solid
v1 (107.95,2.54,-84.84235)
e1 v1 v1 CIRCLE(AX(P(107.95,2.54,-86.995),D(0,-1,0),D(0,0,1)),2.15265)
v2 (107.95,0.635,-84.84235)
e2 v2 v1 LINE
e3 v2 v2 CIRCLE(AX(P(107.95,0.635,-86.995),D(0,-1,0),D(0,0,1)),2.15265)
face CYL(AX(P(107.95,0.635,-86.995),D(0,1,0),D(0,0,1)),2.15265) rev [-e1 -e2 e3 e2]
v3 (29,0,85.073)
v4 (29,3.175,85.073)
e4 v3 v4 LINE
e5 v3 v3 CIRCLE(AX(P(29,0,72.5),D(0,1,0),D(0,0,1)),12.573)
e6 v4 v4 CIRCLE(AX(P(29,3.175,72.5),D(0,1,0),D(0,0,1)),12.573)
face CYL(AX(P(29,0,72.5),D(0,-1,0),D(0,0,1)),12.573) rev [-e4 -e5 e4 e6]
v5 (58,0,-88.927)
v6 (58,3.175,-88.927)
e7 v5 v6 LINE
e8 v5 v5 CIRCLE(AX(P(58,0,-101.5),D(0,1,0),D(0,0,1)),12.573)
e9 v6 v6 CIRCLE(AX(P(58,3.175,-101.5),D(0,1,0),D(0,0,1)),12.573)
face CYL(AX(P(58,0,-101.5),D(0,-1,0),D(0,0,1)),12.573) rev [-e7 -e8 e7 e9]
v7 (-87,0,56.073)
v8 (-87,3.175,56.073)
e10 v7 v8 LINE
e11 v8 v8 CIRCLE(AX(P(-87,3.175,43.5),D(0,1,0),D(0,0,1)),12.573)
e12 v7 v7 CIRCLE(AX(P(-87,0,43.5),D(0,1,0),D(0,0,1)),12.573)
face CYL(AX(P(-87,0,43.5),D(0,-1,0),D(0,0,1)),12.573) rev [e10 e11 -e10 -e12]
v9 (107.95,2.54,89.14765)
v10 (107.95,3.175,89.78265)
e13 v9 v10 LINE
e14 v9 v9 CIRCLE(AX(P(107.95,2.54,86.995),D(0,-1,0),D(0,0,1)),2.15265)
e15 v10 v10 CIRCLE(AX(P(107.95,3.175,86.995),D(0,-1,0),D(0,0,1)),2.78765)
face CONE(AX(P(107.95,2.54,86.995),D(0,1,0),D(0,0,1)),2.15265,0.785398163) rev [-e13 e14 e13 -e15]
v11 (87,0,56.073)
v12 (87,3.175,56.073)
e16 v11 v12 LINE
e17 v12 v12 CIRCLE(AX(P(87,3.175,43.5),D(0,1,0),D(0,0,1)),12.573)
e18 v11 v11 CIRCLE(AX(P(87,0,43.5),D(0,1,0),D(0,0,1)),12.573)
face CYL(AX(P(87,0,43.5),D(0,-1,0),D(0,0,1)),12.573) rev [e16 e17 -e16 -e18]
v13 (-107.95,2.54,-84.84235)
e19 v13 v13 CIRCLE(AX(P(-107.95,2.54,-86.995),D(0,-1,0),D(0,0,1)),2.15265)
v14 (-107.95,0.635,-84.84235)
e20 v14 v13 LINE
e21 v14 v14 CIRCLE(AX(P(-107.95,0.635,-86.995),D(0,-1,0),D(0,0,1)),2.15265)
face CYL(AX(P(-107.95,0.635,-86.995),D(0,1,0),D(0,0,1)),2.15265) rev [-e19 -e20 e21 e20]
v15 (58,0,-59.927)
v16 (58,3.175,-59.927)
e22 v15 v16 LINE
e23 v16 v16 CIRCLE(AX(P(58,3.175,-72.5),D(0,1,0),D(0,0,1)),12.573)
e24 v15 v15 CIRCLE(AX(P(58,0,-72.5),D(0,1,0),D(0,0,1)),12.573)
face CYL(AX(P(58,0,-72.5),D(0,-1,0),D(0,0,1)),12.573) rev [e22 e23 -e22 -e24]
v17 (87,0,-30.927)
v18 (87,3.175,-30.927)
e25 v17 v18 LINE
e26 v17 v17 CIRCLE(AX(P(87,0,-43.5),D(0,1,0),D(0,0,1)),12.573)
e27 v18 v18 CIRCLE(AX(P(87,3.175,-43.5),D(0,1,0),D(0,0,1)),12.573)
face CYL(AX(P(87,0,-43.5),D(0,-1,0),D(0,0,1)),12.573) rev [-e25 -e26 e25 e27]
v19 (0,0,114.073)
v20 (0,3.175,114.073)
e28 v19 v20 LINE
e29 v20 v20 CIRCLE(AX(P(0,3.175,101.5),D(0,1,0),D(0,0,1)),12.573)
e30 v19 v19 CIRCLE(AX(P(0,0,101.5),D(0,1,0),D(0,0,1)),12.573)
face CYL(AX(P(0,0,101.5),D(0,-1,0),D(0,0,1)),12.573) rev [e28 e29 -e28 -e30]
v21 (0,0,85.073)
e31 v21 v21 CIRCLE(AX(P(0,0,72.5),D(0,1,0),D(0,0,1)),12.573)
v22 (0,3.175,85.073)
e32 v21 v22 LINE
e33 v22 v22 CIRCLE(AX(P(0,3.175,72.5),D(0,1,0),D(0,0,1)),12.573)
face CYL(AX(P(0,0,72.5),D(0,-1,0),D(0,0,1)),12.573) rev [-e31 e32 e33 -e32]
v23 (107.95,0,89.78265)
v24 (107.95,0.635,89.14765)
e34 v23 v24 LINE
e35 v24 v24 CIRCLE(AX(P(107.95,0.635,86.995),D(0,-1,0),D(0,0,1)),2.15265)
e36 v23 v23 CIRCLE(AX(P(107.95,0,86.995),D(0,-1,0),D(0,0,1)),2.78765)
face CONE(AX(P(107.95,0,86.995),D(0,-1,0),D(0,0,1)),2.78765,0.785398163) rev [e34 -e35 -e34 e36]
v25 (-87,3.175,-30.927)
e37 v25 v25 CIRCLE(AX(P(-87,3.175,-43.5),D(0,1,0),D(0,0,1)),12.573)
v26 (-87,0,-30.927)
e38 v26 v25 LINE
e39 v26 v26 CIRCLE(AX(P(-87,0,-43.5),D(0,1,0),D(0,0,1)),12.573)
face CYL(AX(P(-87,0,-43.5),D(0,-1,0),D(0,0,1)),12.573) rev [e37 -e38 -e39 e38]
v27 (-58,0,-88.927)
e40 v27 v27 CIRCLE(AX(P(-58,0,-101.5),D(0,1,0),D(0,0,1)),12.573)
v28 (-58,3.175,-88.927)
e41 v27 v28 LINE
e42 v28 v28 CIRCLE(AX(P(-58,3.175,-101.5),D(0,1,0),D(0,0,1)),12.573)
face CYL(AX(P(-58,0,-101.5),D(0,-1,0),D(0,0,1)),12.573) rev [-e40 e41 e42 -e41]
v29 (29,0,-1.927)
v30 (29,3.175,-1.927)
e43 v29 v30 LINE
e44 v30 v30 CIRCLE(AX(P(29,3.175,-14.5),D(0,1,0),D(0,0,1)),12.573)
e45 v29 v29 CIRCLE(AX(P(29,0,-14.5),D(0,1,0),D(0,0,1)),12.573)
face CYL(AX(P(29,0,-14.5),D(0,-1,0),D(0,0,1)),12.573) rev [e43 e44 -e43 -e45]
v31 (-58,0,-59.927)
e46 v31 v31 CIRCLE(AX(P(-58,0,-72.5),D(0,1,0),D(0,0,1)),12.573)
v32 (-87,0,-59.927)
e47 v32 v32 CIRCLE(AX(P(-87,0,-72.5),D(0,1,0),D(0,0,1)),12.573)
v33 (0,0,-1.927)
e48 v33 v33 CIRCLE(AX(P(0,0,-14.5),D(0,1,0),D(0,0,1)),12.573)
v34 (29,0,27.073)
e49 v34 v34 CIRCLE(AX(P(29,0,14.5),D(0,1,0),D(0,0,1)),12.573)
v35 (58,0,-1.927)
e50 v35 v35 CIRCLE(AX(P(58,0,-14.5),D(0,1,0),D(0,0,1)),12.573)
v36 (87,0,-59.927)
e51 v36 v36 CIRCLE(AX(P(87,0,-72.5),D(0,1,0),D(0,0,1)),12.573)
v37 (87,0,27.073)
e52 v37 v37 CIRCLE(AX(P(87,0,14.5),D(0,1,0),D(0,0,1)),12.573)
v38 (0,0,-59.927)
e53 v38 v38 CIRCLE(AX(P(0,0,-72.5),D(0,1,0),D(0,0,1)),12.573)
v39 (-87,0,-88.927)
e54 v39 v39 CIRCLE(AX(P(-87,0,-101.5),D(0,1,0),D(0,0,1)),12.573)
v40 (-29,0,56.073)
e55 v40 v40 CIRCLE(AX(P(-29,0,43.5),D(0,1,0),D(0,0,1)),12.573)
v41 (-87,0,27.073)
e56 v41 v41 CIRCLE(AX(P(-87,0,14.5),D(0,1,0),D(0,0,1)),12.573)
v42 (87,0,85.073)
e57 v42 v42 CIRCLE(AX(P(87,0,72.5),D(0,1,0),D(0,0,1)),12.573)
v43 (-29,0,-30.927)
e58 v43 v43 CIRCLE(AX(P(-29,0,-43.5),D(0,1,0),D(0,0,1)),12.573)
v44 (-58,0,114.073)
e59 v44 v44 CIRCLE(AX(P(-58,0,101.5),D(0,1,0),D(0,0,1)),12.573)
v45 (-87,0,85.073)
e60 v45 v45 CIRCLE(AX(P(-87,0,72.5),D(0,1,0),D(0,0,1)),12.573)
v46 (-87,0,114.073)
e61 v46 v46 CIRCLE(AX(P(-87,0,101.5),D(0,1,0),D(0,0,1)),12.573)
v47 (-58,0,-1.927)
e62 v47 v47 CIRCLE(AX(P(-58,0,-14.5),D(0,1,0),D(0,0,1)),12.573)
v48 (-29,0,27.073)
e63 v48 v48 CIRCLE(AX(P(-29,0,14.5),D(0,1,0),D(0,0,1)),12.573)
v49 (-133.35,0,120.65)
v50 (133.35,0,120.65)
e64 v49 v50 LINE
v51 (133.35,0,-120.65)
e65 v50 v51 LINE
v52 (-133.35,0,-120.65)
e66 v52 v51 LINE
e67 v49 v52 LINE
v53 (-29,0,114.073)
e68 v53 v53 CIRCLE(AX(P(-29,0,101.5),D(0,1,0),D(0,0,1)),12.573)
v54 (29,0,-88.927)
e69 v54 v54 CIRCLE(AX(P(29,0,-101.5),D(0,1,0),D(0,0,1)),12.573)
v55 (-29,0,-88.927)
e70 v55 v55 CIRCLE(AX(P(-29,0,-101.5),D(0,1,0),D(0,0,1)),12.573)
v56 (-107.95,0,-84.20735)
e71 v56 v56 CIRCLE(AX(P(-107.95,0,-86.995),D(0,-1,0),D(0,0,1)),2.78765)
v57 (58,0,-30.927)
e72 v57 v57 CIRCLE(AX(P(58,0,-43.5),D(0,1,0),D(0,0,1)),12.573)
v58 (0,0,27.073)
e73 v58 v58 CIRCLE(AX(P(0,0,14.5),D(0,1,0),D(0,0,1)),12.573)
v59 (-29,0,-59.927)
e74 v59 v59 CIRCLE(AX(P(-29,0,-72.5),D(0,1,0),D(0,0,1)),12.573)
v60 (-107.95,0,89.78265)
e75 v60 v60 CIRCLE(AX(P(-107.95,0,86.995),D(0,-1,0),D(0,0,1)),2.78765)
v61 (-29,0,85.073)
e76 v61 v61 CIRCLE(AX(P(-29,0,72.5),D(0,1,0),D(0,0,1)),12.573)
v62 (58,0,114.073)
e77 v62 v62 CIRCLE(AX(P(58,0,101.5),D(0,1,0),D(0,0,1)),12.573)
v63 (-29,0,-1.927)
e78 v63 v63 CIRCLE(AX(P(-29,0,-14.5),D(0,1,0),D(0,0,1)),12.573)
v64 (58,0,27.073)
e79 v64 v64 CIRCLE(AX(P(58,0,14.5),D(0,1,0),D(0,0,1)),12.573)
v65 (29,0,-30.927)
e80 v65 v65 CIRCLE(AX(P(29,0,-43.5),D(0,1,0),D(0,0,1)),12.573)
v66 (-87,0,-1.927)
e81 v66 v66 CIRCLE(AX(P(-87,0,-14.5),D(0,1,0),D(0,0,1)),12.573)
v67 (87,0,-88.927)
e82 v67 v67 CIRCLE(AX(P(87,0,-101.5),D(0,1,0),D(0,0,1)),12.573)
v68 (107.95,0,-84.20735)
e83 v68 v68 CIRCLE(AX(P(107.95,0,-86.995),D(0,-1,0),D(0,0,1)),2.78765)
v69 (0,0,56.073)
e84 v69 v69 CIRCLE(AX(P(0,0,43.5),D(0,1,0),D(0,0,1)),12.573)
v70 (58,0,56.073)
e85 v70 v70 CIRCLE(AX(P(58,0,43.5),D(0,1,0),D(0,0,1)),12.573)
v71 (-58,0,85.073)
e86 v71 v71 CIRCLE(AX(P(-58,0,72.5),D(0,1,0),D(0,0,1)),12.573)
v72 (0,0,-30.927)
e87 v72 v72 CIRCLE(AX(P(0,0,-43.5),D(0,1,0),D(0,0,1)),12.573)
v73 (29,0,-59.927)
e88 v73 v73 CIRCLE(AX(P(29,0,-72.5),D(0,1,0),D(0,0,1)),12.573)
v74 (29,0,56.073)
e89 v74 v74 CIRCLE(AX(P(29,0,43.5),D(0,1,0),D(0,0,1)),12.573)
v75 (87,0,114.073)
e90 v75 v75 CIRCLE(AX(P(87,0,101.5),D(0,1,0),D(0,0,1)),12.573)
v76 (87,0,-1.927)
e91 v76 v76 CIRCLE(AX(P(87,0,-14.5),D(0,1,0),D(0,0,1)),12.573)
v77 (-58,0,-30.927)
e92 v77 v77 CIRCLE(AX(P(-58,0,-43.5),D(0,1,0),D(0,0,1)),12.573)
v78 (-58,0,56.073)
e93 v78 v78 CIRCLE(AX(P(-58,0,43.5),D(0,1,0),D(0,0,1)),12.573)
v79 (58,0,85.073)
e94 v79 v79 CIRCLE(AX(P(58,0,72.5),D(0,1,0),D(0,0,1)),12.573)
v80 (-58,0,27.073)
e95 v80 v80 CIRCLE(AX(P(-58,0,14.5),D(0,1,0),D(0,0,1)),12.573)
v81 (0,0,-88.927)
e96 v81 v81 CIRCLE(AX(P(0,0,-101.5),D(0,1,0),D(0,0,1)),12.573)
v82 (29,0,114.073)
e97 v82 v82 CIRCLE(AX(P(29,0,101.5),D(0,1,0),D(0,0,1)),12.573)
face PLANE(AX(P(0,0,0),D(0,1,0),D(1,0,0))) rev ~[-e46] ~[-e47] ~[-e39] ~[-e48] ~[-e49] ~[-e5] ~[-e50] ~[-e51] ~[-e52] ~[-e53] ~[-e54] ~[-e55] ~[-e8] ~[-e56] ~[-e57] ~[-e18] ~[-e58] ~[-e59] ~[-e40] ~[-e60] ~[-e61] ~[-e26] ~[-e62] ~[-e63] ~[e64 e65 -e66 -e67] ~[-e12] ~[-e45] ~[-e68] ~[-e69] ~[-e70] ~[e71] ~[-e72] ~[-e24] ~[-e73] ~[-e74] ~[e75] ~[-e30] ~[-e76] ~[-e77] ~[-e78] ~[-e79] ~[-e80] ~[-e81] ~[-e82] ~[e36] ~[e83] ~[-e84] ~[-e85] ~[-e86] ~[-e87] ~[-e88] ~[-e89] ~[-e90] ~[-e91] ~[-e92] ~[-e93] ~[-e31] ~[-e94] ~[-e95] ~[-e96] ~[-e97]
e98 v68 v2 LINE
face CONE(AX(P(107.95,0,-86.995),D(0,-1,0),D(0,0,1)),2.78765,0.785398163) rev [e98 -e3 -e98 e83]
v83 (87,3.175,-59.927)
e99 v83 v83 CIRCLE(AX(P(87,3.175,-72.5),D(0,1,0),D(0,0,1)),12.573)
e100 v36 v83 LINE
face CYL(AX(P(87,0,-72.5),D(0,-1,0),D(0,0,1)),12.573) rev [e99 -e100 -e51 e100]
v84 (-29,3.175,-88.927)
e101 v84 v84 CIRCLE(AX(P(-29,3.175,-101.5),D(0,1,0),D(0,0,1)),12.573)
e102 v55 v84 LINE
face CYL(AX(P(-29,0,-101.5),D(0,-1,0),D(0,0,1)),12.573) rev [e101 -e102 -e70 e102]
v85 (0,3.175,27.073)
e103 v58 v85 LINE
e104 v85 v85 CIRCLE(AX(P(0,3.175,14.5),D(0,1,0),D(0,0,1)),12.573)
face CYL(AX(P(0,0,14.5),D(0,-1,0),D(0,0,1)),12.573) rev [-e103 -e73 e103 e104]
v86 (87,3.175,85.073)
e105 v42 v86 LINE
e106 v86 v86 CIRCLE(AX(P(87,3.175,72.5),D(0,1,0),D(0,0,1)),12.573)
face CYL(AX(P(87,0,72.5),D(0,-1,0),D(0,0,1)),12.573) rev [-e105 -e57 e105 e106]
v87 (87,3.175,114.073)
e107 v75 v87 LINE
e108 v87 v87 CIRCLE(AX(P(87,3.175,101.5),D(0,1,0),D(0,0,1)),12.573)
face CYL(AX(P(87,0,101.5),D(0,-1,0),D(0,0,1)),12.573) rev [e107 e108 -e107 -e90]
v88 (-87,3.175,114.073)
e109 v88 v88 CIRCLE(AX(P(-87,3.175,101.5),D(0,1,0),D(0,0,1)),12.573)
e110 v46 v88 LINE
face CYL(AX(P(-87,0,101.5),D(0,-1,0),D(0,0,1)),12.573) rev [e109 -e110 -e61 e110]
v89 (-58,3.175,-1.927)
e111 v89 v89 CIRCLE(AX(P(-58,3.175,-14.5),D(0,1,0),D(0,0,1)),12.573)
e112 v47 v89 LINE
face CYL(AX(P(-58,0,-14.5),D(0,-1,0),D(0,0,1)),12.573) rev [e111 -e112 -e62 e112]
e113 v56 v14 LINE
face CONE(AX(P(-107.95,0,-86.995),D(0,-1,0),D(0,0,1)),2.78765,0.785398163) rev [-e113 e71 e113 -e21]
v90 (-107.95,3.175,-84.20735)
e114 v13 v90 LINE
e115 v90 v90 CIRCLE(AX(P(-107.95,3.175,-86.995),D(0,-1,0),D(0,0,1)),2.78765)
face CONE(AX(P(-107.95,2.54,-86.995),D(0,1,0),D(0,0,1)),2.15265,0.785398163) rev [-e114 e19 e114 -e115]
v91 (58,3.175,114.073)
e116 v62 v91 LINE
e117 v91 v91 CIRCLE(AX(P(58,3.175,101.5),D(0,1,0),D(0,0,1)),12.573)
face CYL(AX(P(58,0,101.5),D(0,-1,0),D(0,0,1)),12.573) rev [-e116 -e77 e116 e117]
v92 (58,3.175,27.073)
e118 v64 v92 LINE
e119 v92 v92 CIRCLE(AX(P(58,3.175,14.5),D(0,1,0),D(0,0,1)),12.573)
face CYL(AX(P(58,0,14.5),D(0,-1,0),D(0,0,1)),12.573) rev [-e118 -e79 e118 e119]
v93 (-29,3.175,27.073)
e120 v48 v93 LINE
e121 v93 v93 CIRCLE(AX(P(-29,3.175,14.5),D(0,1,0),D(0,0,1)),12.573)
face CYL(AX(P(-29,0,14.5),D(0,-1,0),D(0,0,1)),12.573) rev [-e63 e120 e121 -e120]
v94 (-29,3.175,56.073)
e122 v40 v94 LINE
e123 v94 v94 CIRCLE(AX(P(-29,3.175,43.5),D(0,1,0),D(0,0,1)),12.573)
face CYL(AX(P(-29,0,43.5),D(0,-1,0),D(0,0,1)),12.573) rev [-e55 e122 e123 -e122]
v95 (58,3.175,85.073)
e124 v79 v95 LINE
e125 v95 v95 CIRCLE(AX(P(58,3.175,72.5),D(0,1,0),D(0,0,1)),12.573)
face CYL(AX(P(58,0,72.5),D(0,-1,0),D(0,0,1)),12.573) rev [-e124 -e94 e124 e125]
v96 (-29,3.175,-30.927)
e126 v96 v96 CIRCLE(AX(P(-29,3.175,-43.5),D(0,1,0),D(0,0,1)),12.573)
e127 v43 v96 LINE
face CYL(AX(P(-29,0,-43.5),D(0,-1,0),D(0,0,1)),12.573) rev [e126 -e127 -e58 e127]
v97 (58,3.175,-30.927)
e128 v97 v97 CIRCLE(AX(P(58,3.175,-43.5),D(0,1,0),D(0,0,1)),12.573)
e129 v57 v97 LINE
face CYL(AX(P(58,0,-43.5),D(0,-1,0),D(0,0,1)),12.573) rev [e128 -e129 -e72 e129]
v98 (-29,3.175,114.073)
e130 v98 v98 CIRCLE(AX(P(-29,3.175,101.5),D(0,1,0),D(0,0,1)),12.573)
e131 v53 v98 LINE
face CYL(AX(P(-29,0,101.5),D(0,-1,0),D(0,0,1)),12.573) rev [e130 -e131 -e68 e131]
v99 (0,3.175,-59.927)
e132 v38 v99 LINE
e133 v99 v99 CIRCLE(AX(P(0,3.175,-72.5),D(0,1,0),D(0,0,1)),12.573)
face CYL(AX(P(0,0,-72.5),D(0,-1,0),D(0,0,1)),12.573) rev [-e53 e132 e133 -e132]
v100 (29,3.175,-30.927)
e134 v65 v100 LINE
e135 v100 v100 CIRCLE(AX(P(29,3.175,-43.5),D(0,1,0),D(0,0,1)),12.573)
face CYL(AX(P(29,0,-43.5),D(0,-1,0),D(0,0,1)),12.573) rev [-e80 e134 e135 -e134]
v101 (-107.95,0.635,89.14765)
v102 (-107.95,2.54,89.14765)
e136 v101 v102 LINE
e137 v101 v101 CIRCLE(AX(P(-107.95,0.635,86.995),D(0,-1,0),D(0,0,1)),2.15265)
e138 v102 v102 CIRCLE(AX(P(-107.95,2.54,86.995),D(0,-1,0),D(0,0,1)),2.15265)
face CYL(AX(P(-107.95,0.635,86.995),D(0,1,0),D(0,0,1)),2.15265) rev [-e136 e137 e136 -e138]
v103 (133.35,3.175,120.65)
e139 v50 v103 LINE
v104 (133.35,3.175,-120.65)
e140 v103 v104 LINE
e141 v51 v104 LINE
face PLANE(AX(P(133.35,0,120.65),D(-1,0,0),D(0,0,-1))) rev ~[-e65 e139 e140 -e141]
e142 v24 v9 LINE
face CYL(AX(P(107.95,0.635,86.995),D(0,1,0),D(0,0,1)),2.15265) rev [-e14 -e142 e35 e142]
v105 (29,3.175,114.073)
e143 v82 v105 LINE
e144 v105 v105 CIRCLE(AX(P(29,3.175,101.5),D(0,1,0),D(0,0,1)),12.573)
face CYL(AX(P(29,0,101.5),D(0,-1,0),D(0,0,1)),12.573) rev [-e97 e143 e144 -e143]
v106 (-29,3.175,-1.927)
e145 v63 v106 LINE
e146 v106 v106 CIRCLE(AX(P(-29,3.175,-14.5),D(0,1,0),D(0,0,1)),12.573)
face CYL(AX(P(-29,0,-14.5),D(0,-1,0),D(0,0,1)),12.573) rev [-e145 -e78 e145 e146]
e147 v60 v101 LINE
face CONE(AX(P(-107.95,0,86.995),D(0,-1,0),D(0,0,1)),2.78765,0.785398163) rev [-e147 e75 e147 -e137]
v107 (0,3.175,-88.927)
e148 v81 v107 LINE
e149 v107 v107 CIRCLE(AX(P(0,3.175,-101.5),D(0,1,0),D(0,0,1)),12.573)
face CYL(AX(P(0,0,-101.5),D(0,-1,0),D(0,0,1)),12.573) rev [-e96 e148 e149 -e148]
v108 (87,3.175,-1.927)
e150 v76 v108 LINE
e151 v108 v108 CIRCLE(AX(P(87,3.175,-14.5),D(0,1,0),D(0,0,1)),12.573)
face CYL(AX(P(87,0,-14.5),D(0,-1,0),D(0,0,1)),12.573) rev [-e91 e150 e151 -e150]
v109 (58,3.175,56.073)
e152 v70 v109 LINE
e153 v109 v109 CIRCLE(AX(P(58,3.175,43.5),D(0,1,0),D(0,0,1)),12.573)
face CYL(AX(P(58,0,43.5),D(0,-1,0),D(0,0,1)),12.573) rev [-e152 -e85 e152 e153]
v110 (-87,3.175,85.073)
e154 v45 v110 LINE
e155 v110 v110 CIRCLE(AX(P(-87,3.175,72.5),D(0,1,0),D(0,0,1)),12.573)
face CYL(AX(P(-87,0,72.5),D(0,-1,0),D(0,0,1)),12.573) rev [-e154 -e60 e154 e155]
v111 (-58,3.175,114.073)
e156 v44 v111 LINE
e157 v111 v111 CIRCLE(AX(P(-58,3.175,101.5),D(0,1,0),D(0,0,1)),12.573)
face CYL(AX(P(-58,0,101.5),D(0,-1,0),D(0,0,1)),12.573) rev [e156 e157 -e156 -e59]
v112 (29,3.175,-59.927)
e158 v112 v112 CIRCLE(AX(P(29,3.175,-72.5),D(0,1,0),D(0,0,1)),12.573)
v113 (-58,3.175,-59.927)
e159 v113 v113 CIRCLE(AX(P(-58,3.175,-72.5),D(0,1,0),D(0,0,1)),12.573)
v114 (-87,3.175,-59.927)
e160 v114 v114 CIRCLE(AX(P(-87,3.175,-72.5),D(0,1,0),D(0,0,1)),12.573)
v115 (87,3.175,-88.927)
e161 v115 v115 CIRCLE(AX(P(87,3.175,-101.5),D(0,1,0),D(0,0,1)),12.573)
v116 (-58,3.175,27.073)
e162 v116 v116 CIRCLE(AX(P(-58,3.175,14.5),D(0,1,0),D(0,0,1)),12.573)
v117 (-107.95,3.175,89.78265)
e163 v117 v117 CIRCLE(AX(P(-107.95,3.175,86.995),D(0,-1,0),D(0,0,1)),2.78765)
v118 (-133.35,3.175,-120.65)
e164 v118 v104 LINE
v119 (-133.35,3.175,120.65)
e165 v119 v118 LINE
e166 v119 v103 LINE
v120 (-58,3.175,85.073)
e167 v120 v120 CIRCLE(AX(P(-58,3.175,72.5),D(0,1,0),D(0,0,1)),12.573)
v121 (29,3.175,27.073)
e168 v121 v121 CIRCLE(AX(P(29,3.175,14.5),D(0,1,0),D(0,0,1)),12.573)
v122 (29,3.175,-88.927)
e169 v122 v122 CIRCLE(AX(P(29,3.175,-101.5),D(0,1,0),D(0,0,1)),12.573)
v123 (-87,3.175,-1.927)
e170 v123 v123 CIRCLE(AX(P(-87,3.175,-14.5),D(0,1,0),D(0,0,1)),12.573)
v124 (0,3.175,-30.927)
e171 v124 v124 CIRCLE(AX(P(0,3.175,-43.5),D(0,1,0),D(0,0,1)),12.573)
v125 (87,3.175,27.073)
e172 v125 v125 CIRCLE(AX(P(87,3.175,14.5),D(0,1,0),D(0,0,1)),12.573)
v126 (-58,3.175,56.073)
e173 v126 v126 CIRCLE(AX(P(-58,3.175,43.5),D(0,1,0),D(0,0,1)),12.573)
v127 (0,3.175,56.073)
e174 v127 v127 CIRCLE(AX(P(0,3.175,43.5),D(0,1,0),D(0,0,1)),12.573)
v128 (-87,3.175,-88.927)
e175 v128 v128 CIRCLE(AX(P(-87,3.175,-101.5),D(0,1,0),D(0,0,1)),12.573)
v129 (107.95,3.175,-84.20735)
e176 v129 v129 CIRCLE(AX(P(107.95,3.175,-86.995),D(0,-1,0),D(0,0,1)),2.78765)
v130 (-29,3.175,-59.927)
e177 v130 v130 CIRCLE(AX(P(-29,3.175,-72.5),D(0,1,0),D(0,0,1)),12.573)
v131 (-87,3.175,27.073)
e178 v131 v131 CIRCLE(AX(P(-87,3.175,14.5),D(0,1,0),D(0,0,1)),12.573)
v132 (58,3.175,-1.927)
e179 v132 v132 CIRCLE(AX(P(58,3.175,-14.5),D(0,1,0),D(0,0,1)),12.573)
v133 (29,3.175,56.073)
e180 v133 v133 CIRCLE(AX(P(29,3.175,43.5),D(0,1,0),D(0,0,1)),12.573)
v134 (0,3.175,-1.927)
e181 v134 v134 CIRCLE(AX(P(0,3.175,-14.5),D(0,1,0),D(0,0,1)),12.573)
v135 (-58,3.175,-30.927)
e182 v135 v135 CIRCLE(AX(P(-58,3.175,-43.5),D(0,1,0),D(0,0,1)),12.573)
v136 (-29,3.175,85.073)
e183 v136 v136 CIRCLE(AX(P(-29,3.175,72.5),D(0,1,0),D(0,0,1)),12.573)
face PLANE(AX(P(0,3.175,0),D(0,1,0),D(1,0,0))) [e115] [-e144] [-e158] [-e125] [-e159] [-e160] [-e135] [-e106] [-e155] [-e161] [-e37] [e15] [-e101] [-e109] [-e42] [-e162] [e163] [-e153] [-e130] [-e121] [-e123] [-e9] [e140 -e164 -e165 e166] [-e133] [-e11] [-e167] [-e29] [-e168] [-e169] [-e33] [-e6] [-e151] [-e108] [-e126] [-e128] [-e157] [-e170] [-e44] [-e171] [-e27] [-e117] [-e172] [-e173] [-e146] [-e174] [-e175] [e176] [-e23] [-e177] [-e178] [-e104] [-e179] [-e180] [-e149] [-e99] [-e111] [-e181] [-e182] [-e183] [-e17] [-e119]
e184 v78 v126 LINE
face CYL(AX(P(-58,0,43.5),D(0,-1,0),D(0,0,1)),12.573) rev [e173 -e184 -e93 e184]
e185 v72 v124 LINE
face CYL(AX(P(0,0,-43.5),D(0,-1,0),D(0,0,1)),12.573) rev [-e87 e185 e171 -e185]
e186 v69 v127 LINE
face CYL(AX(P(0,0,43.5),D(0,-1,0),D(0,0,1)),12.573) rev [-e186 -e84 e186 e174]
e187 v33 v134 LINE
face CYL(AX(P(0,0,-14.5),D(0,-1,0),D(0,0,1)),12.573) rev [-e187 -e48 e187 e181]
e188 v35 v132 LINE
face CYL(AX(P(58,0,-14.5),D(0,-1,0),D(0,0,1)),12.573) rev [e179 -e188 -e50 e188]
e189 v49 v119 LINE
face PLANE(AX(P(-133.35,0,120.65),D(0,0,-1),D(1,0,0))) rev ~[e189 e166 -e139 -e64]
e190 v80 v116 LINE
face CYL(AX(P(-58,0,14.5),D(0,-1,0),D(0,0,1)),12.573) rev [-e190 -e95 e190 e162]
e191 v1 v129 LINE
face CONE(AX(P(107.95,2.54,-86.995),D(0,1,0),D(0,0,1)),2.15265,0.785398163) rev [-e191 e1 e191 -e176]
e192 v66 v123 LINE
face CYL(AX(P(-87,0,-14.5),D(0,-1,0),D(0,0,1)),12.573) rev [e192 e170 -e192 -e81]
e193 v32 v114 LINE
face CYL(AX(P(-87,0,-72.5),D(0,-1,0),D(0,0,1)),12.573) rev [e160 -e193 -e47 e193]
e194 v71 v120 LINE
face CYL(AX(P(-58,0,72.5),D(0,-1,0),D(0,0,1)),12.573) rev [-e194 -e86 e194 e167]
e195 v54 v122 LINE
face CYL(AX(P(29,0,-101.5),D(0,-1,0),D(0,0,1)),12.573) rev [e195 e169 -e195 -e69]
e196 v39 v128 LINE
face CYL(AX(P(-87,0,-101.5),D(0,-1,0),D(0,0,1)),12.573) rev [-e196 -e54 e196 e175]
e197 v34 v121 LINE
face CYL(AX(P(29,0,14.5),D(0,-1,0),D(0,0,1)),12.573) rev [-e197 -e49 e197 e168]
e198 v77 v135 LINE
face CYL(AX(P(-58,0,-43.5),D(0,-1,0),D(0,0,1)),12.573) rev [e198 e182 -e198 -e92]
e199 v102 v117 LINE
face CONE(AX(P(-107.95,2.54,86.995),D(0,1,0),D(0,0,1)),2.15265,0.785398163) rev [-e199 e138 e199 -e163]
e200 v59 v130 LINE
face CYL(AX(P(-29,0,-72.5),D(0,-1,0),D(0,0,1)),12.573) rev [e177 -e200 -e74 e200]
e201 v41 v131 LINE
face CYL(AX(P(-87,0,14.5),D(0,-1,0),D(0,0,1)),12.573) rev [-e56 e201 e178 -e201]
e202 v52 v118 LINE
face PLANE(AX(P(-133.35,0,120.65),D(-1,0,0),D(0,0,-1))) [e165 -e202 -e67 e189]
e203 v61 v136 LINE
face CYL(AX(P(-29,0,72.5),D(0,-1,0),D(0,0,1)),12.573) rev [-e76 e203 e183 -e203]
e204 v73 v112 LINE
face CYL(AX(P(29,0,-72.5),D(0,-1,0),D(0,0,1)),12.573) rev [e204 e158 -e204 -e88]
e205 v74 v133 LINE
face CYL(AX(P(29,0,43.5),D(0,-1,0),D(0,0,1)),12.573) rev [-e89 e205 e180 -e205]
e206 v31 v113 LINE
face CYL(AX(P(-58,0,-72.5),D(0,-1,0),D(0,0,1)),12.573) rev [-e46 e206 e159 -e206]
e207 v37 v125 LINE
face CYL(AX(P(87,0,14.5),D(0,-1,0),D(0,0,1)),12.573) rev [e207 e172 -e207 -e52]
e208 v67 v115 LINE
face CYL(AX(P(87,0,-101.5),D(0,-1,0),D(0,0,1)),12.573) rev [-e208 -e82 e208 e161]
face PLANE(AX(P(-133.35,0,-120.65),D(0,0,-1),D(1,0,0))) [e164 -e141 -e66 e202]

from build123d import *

# Parameters (mm, degrees)
SKETCH1_W                      = 266.7
SKETCH1_H                      = 241.3
SKETCH1_R                      = 12.573
BOSS_EXTRUDE1_DEPTH            = 3.175
F_6_CLEARANCE_HOLE1_AT_2_COUNT = 2
F_6_CLEARANCE_HOLE1_AT_2_PITCH = 215.9
F_6_CLEARANCE_HOLE1_AT_3_COUNT = 2
F_6_CLEARANCE_HOLE1_AT_3_PITCH = 277.282040709
F_6_CLEARANCE_HOLE1_AT_4_COUNT = 2
F_6_CLEARANCE_HOLE1_AT_4_PITCH = 173.99


with BuildPart() as part:
    # Sketch1 → Boss-Extrude1 (new body)
    with BuildSketch(Plane(origin=(0, 0, 0), x_dir=(1, 0, 0), z_dir=(0, 1, 0))):
        Rectangle(SKETCH1_W, SKETCH1_H)
        with Locations(Location((-87, -101.5, 0), (0, 0, 270))):
            Circle(SKETCH1_R, mode=Mode.SUBTRACT)
        with Locations(Location((-58, -101.5, 0), (0, 0, 270))):
            Circle(SKETCH1_R, mode=Mode.SUBTRACT)
        with Locations(Location((-29, -101.5, 0), (0, 0, 270))):
            Circle(SKETCH1_R, mode=Mode.SUBTRACT)
        with Locations(Location((0, -101.5, 0), (0, 0, 270))):
            Circle(SKETCH1_R, mode=Mode.SUBTRACT)
        with Locations(Location((29, -101.5, 0), (0, 0, 270))):
            Circle(SKETCH1_R, mode=Mode.SUBTRACT)
        with Locations(Location((58, -101.5, 0), (0, 0, 270))):
            Circle(SKETCH1_R, mode=Mode.SUBTRACT)
        with Locations(Location((87, -101.5, 0), (0, 0, 270))):
            Circle(SKETCH1_R, mode=Mode.SUBTRACT)
        with Locations(Location((-58, -72.5, 0), (0, 0, 270))):
            Circle(SKETCH1_R, mode=Mode.SUBTRACT)
        with Locations(Location((-29, -72.5, 0), (0, 0, 270))):
            Circle(SKETCH1_R, mode=Mode.SUBTRACT)
        with Locations(Location((0, -72.5, 0), (0, 0, 270))):
            Circle(SKETCH1_R, mode=Mode.SUBTRACT)
        with Locations(Location((29, -72.5, 0), (0, 0, 270))):
            Circle(SKETCH1_R, mode=Mode.SUBTRACT)
        with Locations(Location((58, -72.5, 0), (0, 0, 270))):
            Circle(SKETCH1_R, mode=Mode.SUBTRACT)
        with Locations(Location((87, -72.5, 0), (0, 0, 270))):
            Circle(SKETCH1_R, mode=Mode.SUBTRACT)
        with Locations(Location((-58, -43.5, 0), (0, 0, 270))):
            Circle(SKETCH1_R, mode=Mode.SUBTRACT)
        with Locations(Location((-29, -43.5, 0), (0, 0, 270))):
            Circle(SKETCH1_R, mode=Mode.SUBTRACT)
        with Locations(Location((0, -43.5, 0), (0, 0, 270))):
            Circle(SKETCH1_R, mode=Mode.SUBTRACT)
        with Locations(Location((29, -43.5, 0), (0, 0, 270))):
            Circle(SKETCH1_R, mode=Mode.SUBTRACT)
        with Locations(Location((58, -43.5, 0), (0, 0, 270))):
            Circle(SKETCH1_R, mode=Mode.SUBTRACT)
        with Locations(Location((87, -43.5, 0), (0, 0, 270))):
            Circle(SKETCH1_R, mode=Mode.SUBTRACT)
        with Locations(Location((-58, -14.5, 0), (0, 0, 270))):
            Circle(SKETCH1_R, mode=Mode.SUBTRACT)
        with Locations(Location((-29, -14.5, 0), (0, 0, 270))):
            Circle(SKETCH1_R, mode=Mode.SUBTRACT)
        with Locations(Location((0, -14.5, 0), (0, 0, 270))):
            Circle(SKETCH1_R, mode=Mode.SUBTRACT)
        with Locations(Location((29, -14.5, 0), (0, 0, 270))):
            Circle(SKETCH1_R, mode=Mode.SUBTRACT)
        with Locations(Location((58, -14.5, 0), (0, 0, 270))):
            Circle(SKETCH1_R, mode=Mode.SUBTRACT)
        with Locations(Location((87, -14.5, 0), (0, 0, 270))):
            Circle(SKETCH1_R, mode=Mode.SUBTRACT)
        with Locations(Location((-58, 14.5, 0), (0, 0, 270))):
            Circle(SKETCH1_R, mode=Mode.SUBTRACT)
        with Locations(Location((-29, 14.5, 0), (0, 0, 270))):
            Circle(SKETCH1_R, mode=Mode.SUBTRACT)
        with Locations(Location((0, 14.5, 0), (0, 0, 270))):
            Circle(SKETCH1_R, mode=Mode.SUBTRACT)
        with Locations(Location((29, 14.5, 0), (0, 0, 270))):
            Circle(SKETCH1_R, mode=Mode.SUBTRACT)
        with Locations(Location((58, 14.5, 0), (0, 0, 270))):
            Circle(SKETCH1_R, mode=Mode.SUBTRACT)
        with Locations(Location((87, 14.5, 0), (0, 0, 270))):
            Circle(SKETCH1_R, mode=Mode.SUBTRACT)
        with Locations(Location((-58, 43.5, 0), (0, 0, 270))):
            Circle(SKETCH1_R, mode=Mode.SUBTRACT)
        with Locations(Location((-29, 43.5, 0), (0, 0, 270))):
            Circle(SKETCH1_R, mode=Mode.SUBTRACT)
        with Locations(Location((0, 43.5, 0), (0, 0, 270))):
            Circle(SKETCH1_R, mode=Mode.SUBTRACT)
        with Locations(Location((29, 43.5, 0), (0, 0, 270))):
            Circle(SKETCH1_R, mode=Mode.SUBTRACT)
        with Locations(Location((58, 43.5, 0), (0, 0, 270))):
            Circle(SKETCH1_R, mode=Mode.SUBTRACT)
        with Locations(Location((87, 43.5, 0), (0, 0, 270))):
            Circle(SKETCH1_R, mode=Mode.SUBTRACT)
        with Locations(Location((-58, 72.5, 0), (0, 0, 270))):
            Circle(SKETCH1_R, mode=Mode.SUBTRACT)
        with Locations(Location((-29, 72.5, 0), (0, 0, 270))):
            Circle(SKETCH1_R, mode=Mode.SUBTRACT)
        with Locations(Location((0, 72.5, 0), (0, 0, 270))):
            Circle(SKETCH1_R, mode=Mode.SUBTRACT)
        with Locations(Location((29, 72.5, 0), (0, 0, 270))):
            Circle(SKETCH1_R, mode=Mode.SUBTRACT)
        with Locations(Location((58, 72.5, 0), (0, 0, 270))):
            Circle(SKETCH1_R, mode=Mode.SUBTRACT)
        with Locations(Location((87, 72.5, 0), (0, 0, 270))):
            Circle(SKETCH1_R, mode=Mode.SUBTRACT)
        with Locations(Location((-58, 101.5, 0), (0, 0, 270))):
            Circle(SKETCH1_R, mode=Mode.SUBTRACT)
        with Locations(Location((-29, 101.5, 0), (0, 0, 270))):
            Circle(SKETCH1_R, mode=Mode.SUBTRACT)
        with Locations(Location((0, 101.5, 0), (0, 0, 270))):
            Circle(SKETCH1_R, mode=Mode.SUBTRACT)
        with Locations(Location((29, 101.5, 0), (0, 0, 270))):
            Circle(SKETCH1_R, mode=Mode.SUBTRACT)
        with Locations(Location((58, 101.5, 0), (0, 0, 270))):
            Circle(SKETCH1_R, mode=Mode.SUBTRACT)
        with Locations(Location((87, 101.5, 0), (0, 0, 270))):
            Circle(SKETCH1_R, mode=Mode.SUBTRACT)
        with Locations(Location((-87, -72.5, 0), (0, 0, 270))):
            Circle(SKETCH1_R, mode=Mode.SUBTRACT)
        with Locations(Location((-87, -43.5, 0), (0, 0, 270))):
            Circle(SKETCH1_R, mode=Mode.SUBTRACT)
        with Locations(Location((-87, -14.5, 0), (0, 0, 270))):
            Circle(SKETCH1_R, mode=Mode.SUBTRACT)
        with Locations(Location((-87, 14.5, 0), (0, 0, 270))):
            Circle(SKETCH1_R, mode=Mode.SUBTRACT)
        with Locations(Location((-87, 43.5, 0), (0, 0, 270))):
            Circle(SKETCH1_R, mode=Mode.SUBTRACT)
        with Locations(Location((-87, 72.5, 0), (0, 0, 270))):
            Circle(SKETCH1_R, mode=Mode.SUBTRACT)
        with Locations(Location((-87, 101.5, 0), (0, 0, 270))):
            Circle(SKETCH1_R, mode=Mode.SUBTRACT)
    extrude(amount=BOSS_EXTRUDE1_DEPTH)

    # Sketch4 → #6 Clearance Hole1 (revolve, cut)
    with BuildSketch(Plane(origin=(-107.95, 3.175, -86.995), x_dir=(0, 0, 1), z_dir=(1, 0, 0))):
        Polygon((0, 0), (0, 3.175), (2.78765, 3.175), (2.15265, 2.54), (2.15265, 0.635), (2.78765, 0), align=None)
    f_6_clearance_hole1 = revolve(axis=Axis((-107.95, 9.525, -86.995), (0, -1, 0)), mode=Mode.SUBTRACT)

    # #6 Clearance Hole1 at 2: #6 Clearance Hole1 ×2
    with Locations(*[(i * F_6_CLEARANCE_HOLE1_AT_2_PITCH, 0, 0) for i in range(1, F_6_CLEARANCE_HOLE1_AT_2_COUNT)]):
        add(f_6_clearance_hole1, mode=Mode.SUBTRACT)

    # #6 Clearance Hole1 at 3: #6 Clearance Hole1 ×2
    with Locations(*[Vector(0.7786295839701597, 0, 0.6274838411994815) * (i * F_6_CLEARANCE_HOLE1_AT_3_PITCH) for i in range(1, F_6_CLEARANCE_HOLE1_AT_3_COUNT)]):
        add(f_6_clearance_hole1, mode=Mode.SUBTRACT)

    # #6 Clearance Hole1 at 4: #6 Clearance Hole1 ×2
    with Locations(*[(0, 0, i * F_6_CLEARANCE_HOLE1_AT_4_PITCH) for i in range(1, F_6_CLEARANCE_HOLE1_AT_4_COUNT)]):
        add(f_6_clearance_hole1, mode=Mode.SUBTRACT)


solid = part.part
